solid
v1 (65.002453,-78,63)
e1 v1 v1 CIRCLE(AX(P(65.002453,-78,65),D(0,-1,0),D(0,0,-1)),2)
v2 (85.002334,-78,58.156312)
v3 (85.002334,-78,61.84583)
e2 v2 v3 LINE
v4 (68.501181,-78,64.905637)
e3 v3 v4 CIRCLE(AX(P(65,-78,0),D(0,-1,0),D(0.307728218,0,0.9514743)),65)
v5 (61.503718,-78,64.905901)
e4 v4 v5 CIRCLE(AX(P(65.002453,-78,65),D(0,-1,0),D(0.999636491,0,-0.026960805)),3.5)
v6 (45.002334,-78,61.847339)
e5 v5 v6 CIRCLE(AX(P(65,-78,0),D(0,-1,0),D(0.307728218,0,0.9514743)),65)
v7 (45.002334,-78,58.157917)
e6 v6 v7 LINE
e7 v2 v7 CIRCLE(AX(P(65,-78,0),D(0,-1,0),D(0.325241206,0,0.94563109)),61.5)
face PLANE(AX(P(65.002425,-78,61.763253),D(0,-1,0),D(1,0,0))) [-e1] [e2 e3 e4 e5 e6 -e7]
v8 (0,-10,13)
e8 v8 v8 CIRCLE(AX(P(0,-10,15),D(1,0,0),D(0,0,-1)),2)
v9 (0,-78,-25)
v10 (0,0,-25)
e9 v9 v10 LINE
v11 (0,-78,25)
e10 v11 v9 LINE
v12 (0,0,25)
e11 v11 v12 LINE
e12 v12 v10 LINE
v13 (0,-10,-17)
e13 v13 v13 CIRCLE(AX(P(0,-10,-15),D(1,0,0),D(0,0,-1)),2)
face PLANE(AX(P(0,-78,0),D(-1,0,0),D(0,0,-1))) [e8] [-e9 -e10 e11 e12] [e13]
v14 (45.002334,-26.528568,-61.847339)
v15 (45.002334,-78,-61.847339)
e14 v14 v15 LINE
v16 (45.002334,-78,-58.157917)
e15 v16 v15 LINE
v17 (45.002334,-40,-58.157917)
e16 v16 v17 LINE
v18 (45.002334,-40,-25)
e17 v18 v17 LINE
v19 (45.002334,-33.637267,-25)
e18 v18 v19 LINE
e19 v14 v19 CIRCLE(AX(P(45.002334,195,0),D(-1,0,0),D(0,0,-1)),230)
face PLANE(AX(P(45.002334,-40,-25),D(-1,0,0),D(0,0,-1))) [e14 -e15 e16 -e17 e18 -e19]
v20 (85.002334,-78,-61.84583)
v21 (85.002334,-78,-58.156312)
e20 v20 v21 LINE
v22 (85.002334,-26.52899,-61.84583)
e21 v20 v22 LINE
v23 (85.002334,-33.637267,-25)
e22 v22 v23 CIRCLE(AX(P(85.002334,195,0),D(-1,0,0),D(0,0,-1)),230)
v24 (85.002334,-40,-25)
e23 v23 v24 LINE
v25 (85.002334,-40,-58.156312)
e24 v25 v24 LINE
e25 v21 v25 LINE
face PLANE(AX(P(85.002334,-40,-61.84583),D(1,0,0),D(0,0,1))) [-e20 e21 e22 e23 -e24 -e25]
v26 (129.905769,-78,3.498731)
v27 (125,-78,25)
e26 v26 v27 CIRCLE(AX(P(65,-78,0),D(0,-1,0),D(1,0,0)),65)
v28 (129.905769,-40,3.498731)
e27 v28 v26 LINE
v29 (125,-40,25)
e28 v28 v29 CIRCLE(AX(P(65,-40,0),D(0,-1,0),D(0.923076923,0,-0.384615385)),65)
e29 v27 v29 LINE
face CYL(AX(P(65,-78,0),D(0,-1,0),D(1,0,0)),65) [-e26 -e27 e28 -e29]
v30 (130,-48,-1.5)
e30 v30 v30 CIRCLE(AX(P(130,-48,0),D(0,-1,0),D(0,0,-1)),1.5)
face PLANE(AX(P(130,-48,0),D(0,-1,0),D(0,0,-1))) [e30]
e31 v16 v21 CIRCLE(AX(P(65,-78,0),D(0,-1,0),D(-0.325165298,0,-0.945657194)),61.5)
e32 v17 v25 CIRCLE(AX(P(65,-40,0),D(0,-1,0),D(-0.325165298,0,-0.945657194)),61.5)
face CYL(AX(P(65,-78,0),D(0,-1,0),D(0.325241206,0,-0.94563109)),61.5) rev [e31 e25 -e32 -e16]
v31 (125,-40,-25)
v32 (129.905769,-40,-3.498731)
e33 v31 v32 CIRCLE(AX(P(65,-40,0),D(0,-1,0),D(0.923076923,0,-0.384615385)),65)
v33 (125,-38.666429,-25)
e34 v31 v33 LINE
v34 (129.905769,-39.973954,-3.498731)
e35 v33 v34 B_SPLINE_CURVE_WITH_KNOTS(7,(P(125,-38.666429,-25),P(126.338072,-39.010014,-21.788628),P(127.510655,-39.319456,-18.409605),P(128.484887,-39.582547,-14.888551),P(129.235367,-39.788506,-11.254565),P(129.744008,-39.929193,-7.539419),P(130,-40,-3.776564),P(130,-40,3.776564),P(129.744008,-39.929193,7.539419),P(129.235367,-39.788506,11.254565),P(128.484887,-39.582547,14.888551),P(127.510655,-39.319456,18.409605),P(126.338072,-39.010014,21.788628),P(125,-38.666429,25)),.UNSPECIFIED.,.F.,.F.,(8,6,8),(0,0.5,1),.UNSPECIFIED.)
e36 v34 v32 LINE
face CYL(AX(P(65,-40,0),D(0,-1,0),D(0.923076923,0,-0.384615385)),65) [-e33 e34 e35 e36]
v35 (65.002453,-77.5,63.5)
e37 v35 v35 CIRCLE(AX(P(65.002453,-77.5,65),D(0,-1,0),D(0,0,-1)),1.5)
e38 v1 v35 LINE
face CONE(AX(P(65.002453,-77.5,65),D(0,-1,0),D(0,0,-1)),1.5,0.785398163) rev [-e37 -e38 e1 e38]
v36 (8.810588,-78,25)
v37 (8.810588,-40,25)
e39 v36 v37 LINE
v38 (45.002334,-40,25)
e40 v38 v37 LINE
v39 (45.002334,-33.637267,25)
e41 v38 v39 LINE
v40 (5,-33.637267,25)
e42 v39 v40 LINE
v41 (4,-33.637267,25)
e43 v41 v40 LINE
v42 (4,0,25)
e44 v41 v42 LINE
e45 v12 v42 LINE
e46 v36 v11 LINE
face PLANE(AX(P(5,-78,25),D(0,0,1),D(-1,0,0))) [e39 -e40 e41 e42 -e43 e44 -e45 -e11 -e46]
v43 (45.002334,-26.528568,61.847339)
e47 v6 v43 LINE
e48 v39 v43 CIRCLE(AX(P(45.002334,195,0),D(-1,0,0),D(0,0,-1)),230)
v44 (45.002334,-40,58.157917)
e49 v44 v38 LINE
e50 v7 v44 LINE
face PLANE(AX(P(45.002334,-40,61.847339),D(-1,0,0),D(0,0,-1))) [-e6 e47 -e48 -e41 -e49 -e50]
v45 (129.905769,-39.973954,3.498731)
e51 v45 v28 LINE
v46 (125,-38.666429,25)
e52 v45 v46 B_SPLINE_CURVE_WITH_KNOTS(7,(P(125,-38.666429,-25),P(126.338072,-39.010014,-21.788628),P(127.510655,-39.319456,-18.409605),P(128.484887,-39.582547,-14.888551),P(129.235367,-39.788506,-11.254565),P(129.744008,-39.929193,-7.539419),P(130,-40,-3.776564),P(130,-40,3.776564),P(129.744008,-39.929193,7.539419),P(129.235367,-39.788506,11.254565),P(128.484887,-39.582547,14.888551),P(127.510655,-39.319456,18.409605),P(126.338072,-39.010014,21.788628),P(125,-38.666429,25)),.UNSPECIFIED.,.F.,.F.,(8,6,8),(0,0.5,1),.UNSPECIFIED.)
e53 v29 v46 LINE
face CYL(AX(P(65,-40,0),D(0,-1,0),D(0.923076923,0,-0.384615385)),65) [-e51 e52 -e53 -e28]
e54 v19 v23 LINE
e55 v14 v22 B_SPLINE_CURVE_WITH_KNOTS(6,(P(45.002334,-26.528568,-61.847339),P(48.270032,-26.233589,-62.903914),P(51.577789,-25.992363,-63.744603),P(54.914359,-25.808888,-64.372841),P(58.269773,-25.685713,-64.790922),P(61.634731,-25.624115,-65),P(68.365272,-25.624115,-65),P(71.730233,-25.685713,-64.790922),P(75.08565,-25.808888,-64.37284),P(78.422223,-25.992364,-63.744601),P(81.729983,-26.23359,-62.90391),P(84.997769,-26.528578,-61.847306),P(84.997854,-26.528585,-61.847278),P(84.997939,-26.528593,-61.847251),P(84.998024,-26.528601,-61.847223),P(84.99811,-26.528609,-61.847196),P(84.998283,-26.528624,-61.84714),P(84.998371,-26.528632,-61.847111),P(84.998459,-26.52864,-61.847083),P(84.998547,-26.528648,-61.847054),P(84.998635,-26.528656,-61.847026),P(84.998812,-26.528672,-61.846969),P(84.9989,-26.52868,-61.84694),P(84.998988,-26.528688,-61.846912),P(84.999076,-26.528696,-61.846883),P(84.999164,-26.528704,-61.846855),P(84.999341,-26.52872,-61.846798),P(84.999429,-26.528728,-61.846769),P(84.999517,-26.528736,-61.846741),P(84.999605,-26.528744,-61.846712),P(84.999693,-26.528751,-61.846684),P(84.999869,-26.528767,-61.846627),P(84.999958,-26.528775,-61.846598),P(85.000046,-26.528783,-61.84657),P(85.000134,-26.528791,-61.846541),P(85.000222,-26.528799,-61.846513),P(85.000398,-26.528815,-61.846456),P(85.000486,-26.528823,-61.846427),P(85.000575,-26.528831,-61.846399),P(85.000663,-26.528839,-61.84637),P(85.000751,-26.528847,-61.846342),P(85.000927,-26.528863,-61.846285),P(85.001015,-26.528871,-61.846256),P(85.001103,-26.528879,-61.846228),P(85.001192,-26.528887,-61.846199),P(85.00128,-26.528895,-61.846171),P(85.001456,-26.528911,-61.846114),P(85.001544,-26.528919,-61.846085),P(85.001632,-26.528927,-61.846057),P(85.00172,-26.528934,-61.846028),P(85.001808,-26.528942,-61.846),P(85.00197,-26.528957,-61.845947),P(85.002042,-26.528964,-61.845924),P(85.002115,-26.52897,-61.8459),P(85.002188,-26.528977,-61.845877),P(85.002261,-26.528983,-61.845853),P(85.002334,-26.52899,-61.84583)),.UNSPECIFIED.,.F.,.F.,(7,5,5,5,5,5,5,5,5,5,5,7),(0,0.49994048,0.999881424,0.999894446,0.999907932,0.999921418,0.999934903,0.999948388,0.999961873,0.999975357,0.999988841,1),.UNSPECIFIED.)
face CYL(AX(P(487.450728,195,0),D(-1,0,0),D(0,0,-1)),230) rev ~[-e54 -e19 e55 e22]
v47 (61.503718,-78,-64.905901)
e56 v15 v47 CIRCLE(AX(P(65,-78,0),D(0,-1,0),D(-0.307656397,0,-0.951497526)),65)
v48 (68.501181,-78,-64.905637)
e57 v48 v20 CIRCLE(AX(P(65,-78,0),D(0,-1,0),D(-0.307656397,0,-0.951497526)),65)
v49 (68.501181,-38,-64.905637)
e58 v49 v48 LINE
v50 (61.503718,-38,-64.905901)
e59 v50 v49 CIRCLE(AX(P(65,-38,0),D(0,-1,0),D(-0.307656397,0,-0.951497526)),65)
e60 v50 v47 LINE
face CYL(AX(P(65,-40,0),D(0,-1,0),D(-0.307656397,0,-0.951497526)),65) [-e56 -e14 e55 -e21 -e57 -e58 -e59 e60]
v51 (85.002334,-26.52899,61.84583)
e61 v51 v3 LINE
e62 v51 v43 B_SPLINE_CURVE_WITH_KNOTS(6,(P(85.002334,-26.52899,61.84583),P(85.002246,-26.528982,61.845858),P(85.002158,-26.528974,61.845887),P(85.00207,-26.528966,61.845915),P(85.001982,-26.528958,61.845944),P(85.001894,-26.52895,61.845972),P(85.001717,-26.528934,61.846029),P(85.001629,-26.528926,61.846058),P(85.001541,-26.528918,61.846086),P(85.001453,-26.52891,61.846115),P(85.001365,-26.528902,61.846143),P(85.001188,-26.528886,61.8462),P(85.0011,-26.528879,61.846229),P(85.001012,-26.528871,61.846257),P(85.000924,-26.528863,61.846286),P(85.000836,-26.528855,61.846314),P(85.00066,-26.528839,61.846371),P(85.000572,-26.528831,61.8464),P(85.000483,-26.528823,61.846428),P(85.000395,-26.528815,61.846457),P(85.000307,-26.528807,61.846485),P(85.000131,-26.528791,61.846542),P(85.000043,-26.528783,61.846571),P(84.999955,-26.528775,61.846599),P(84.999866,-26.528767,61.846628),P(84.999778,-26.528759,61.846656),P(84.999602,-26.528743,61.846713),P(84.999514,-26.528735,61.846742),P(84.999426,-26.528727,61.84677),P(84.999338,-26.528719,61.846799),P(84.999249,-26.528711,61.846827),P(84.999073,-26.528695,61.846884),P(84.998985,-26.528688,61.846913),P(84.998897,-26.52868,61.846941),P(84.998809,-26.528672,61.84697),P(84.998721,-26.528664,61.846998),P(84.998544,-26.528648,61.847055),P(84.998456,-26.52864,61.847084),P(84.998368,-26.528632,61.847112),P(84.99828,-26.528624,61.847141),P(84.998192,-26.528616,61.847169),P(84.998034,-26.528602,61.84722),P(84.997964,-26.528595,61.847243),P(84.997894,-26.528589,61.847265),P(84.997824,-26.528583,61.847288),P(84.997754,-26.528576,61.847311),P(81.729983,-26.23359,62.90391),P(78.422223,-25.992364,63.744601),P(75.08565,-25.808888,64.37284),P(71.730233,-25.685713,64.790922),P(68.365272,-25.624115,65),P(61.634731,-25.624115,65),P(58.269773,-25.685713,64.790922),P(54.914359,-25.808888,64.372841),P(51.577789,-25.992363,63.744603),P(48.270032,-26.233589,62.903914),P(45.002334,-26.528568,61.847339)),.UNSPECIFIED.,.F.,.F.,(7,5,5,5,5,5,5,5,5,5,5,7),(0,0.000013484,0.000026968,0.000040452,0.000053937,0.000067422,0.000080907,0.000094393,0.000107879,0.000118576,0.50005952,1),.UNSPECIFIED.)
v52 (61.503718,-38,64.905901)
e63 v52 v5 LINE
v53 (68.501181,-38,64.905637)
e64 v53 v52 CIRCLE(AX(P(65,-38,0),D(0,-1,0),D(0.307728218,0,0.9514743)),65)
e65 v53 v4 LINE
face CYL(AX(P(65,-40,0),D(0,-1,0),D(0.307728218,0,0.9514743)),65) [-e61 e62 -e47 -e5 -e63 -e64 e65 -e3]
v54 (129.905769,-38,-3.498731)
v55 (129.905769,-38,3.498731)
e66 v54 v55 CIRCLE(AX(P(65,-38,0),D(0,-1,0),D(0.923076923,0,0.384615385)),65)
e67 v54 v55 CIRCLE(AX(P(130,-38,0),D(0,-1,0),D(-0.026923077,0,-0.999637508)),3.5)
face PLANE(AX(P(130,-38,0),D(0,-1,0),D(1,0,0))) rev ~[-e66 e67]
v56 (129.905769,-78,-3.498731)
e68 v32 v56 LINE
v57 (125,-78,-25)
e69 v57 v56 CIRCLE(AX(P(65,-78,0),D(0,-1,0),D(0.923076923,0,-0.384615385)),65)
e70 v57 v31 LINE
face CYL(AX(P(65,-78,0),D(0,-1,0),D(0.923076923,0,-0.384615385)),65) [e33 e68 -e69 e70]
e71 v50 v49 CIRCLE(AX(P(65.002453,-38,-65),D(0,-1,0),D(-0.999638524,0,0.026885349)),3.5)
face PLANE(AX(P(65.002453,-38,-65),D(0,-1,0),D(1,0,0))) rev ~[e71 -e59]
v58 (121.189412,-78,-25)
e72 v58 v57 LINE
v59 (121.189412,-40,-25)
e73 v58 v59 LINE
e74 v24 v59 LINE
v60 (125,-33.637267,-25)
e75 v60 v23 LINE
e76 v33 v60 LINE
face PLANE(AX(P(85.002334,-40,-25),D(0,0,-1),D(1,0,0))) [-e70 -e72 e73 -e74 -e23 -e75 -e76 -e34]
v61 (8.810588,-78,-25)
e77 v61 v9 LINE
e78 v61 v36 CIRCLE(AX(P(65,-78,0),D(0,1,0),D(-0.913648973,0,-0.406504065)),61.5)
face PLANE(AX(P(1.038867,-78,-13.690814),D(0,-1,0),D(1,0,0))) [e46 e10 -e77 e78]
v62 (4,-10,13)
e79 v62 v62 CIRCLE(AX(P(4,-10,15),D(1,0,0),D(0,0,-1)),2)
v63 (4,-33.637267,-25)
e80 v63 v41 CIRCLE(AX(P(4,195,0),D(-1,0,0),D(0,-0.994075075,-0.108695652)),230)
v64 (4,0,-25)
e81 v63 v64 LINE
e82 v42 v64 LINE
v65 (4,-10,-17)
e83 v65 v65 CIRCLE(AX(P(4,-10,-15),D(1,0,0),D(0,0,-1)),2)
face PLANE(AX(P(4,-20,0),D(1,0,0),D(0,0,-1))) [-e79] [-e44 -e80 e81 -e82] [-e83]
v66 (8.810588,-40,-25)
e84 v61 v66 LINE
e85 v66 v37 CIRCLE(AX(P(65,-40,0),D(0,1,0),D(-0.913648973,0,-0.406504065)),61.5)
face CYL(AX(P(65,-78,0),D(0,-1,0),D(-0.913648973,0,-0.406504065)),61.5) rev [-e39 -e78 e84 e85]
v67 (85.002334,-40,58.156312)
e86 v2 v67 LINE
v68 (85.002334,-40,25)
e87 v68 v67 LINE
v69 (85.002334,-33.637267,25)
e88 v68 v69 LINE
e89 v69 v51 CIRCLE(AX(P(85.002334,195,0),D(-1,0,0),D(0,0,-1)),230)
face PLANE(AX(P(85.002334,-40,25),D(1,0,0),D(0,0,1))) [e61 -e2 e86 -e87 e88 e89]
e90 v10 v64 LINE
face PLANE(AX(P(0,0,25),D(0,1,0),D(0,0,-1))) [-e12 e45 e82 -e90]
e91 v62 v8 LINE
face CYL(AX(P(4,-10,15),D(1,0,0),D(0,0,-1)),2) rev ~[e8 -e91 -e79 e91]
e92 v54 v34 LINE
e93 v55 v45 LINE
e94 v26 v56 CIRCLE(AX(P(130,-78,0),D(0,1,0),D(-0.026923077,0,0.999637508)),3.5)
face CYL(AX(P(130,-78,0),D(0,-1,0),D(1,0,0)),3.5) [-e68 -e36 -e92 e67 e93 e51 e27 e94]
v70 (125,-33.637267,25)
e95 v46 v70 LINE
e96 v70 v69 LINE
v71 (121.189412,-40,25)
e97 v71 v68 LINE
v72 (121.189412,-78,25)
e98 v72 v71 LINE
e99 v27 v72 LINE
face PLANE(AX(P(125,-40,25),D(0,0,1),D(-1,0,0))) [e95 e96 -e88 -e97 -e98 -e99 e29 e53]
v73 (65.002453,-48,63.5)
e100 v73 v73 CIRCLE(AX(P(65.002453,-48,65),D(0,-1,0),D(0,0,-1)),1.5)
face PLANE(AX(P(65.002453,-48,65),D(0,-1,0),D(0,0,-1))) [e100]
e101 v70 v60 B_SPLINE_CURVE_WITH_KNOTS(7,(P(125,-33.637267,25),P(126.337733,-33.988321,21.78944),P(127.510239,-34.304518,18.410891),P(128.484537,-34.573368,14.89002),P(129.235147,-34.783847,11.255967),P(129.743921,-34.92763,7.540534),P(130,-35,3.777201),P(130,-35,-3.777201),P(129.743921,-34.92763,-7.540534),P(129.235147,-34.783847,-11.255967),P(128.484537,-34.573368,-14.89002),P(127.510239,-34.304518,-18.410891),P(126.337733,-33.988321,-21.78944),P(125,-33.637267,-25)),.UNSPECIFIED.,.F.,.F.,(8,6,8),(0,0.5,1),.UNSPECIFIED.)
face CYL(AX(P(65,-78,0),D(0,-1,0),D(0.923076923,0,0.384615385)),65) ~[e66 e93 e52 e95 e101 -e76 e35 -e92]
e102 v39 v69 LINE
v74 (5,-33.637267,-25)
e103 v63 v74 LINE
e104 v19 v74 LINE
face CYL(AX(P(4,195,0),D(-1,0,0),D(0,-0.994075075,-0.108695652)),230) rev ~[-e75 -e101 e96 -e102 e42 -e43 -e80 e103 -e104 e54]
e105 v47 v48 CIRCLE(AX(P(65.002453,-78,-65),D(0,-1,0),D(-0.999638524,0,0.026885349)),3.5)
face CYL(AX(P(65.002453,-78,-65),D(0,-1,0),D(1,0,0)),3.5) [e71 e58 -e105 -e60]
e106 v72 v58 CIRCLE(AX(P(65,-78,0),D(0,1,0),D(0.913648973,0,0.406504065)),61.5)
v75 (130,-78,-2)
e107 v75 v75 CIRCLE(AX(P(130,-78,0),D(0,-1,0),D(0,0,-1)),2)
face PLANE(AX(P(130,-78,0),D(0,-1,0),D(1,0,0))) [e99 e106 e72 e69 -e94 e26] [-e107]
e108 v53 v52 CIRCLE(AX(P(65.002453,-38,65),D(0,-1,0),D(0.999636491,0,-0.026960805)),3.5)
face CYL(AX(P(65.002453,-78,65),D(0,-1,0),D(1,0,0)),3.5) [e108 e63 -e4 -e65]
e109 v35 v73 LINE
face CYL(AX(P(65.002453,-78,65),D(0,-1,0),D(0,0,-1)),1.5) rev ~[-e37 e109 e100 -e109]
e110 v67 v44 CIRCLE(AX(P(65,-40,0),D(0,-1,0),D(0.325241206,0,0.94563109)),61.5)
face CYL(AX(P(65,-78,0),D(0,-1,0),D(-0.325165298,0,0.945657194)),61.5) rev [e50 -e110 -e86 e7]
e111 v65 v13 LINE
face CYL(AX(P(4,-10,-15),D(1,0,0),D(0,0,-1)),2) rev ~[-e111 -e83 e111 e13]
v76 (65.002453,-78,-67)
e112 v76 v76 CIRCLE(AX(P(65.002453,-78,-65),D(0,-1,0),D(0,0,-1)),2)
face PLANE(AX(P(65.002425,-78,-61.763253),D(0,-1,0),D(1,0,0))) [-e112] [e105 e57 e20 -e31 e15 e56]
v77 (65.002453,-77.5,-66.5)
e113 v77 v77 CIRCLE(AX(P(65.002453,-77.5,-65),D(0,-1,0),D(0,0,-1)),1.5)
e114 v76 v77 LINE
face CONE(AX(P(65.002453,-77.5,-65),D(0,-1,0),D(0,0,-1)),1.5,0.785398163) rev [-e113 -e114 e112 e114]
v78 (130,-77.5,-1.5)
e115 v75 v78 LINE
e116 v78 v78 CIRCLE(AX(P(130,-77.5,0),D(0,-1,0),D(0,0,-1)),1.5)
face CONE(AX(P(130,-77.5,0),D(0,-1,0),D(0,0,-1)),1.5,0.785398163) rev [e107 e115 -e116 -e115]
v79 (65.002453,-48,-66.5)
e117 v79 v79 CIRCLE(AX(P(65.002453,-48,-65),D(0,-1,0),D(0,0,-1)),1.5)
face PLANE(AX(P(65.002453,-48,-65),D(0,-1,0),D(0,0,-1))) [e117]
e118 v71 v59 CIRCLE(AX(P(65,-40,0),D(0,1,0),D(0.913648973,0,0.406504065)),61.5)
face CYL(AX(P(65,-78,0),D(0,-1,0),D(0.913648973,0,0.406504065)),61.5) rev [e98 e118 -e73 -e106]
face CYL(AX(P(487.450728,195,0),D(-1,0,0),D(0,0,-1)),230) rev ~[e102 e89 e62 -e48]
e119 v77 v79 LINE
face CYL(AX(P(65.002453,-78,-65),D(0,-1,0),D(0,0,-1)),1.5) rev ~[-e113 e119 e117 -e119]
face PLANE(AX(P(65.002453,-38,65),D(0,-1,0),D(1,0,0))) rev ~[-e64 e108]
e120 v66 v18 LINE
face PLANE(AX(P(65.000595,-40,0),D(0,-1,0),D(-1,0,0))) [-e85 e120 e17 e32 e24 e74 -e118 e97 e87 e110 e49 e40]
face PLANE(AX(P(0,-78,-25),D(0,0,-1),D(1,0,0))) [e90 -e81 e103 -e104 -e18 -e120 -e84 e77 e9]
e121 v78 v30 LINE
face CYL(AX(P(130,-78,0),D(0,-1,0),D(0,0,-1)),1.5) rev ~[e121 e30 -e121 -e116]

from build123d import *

# Parameters (mm, degrees)
SKETCH_1_W           = 50
SKETCH_1_H           = 40
EXTRUDE_1_DEPTH      = 4
SKETCH_2_R           = 2
CUT_EXTRUDE_1_DEPTH  = 4
EXTRUDE_2_DEPTH      = 180
CUT_EXTRUDE_START    = -60
CUT_EXTRUDE_2_DEPTH  = 60
CUT_EXTRUDE_3_DEPTH  = 60
EXTRUDE_3_REACH      = 191.95
EXTRUDE_3_END_RADIUS = 230
EXTRUDE_START        = 38
EXTRUDE_4_DEPTH      = 38
CUT_EXTRUDE_4_DEPTH  = 211.154705038
SKETCH_9_R           = 3.5
EXTRUDE_5_DEPTH      = 40
SKETCH_10_R          = 1.5
CUT_EXTRUDE_5_DEPTH  = 30
CHAMFER_1_SIZE       = 0.5
EXTRUDE_6_REACH      = 171.111
EXTRUDE_6_END_RADIUS = 235
EXTRUDE_7_REACH      = 171.111


with BuildPart() as part:
    # 草图1 → 凸台-拉伸1 (new body)
    with BuildSketch(Plane(origin=(0, 0, 0), x_dir=(0, 0, -1), z_dir=(1, 0, 0))):
        with Locations((0, -20)):
            Rectangle(SKETCH_1_W, SKETCH_1_H)
    extrude(amount=EXTRUDE_1_DEPTH)

    # 草图2 → 切除-拉伸1 (cut)
    with BuildSketch(Plane(origin=(4, 0, 0), x_dir=(0, 0, -1), z_dir=(1, 0, 0))):
        with Locations((-15, -10)):
            Circle(SKETCH_2_R)
        with Locations((15, -10)):
            Circle(SKETCH_2_R)
    extrude(amount=-CUT_EXTRUDE_1_DEPTH, mode=Mode.SUBTRACT)

    # 草图3 → 凸台-拉伸2 (add)
    with BuildSketch(Plane(origin=(4, 0, 0), x_dir=(0, 0, -1), z_dir=(1, 0, 0))):
        with BuildLine():
            Line((-25, -33.637267303), (-25, -38.666428911))
            ThreePointArc((-25, -38.666428911), (0, -40), (25, -38.666428911))
            Line((25, -38.666428911), (25, -33.637267303))
            ThreePointArc((25, -33.637267303), (0, -35), (-25, -33.637267303))
        make_face()
    extrude(amount=EXTRUDE_2_DEPTH)

    # 草图4 → 切除-拉伸2 (cut)
    with BuildSketch(Plane(origin=(4, 0, 0), x_dir=(0, 0, -1), z_dir=(1, 0, 0)).offset(CUT_EXTRUDE_START)):
        with BuildLine():
            Line((25, -40), (25, -38.666428911))
            ThreePointArc((25, -38.666428911), (12.517771485, -39.666370401), (0, -40))
            Line((0, -40), (25, -40))
        make_face()
    extrude(amount=CUT_EXTRUDE_2_DEPTH, mode=Mode.SUBTRACT)

    # 草图5 → 切除-拉伸3 (cut)
    with BuildSketch(Plane(origin=(4, 0, 0), x_dir=(0, 0, -1), z_dir=(1, 0, 0)).offset(CUT_EXTRUDE_START)):
        with BuildLine():
            Line((-25, -38.666428911), (-25, -40))
            Line((-25, -40), (0, -40))
            ThreePointArc((0, -40), (-12.517771485, -39.666370401), (-25, -38.666428911))
        make_face()
    extrude(amount=CUT_EXTRUDE_3_DEPTH, mode=Mode.SUBTRACT)

    # 凸台-拉伸3: up to this cylinder (the profile starts outside it)
    extrude_3_end = Plane(origin=(65.000728, 195, 0), z_dir=(-1, 0, 0)) * Cylinder(EXTRUDE_3_END_RADIUS, 844.9, mode=Mode.PRIVATE)
    # 草图6 → 凸台-拉伸3 (add, up to the surface)
    with BuildSketch(Plane(origin=(0, -40, 0), x_dir=(-1, 0, 0), z_dir=(0, -1, 0)), mode=Mode.PRIVATE) as extrude_3_sk1:
        with BuildLine():
            Line((-85.002334196, 61.845829501), (-85.002334196, 25))
            Line((-85.002334196, 25), (-125, 25))
            ThreePointArc((-125, 25), (-130, 0), (-125, -25))
            Line((-125, -25), (-85.002334196, -25))
            Line((-85.002334196, -25), (-85.002334196, -61.845829501))
            ThreePointArc((-85.002334196, -61.845829501), (-65.002453212, -64.999999954), (-45.002334196, -61.84733917))
            Line((-45.002334196, -61.84733917), (-45.002334196, -25))
            Line((-45.002334196, -25), (-5, -25))
            ThreePointArc((-5, -25), (0, 0), (-5, 25))
            Line((-5, 25), (-45.002334196, 25))
            Line((-45.002334196, 25), (-45.002334196, 61.84733917))
            ThreePointArc((-45.002334196, 61.84733917), (-65.002453212, 64.999999954), (-85.002334196, 61.845829501))
        make_face()
    extrude_3_tool1 = extrude(extrude_3_sk1.sketch, amount=-EXTRUDE_3_REACH, mode=Mode.PRIVATE) - extrude_3_end
    extrude_3 = extrude_3_tool1.solids().sort_by_distance((65.000728, -40, 0))[0]
    add(extrude_3)

    # 镜向1: 凸台-拉伸3 across plane
    add(extrude_3.mirror(Plane.XY))

    # 草图7 → 凸台-拉伸4 (add)
    with BuildSketch(Plane.XZ.offset(40).offset(EXTRUDE_START)):
        with BuildLine():
            Line((5, -25), (8.810588186, -25))
            ThreePointArc((8.810588186, -25), (3.5, 0), (8.810588186, 25))
            Line((8.810588186, 25), (5, 25))
            ThreePointArc((5, 25), (1.26225608, 12.747548784), (0, 0))
            ThreePointArc((0, 0), (1.26225608, -12.747548784), (5, -25))
        make_face()
        with BuildLine():
            Line((45.002334196, -58.157917452), (45.002334196, -61.84733917))
            ThreePointArc((45.002334196, -61.84733917), (65.002453212, -64.999999954), (85.002334196, -61.845829501))
            Line((85.002334196, -61.845829501), (85.002334196, -58.156312011))
            ThreePointArc((85.002334196, -58.156312011), (65.002468367, -61.49999995), (45.002334196, -58.157917452))
        make_face()
        with BuildLine():
            Line((121.189411814, -25), (125, -25))
            ThreePointArc((125, -25), (128.73774392, -12.747548784), (130, 0))
            ThreePointArc((130, 0), (128.73774392, 12.747548784), (125, 25))
            Line((125, 25), (121.189411814, 25))
            ThreePointArc((121.189411814, 25), (126.5, 0), (121.189411814, -25))
        make_face()
        with BuildLine():
            Line((85.002334196, 58.156312011), (85.002334196, 61.845829501))
            ThreePointArc((85.002334196, 61.845829501), (65.002453212, 64.999999954), (45.002334196, 61.84733917))
            Line((45.002334196, 61.84733917), (45.002334196, 58.157917452))
            ThreePointArc((45.002334196, 58.157917452), (65.002468367, 61.49999995), (85.002334196, 58.156312011))
        make_face()
    extrude(amount=-EXTRUDE_4_DEPTH)

    # 草图8 → 切除-拉伸4 (cut, through all)
    with BuildSketch(Plane.XZ.offset(78)):
        with BuildLine():
            Line((184, 25), (125, 25))
            ThreePointArc((125, 25), (130, 0), (125, -25))
            Line((125, -25), (184, -25))
            Line((184, -25), (184, 25))
        make_face()
    extrude(amount=-CUT_EXTRUDE_4_DEPTH, mode=Mode.SUBTRACT)

    # 草图9 → 凸台-拉伸5 (add)
    with BuildSketch(Plane.XZ.offset(78)):
        with Locations((130, 0)):
            Circle(SKETCH_9_R)
        with Locations((65.002453212, -64.999999954)):
            Circle(SKETCH_9_R)
        with Locations((65.002453212, 64.999999954)):
            Circle(SKETCH_9_R)
    extrude(amount=-EXTRUDE_5_DEPTH)

    # 草图10 → 切除-拉伸5 (cut)
    with BuildSketch(Plane.XZ.offset(78)):
        with Locations(Location((65.002453212, 64.999999954, 0), (0, 0, 270))):
            Circle(SKETCH_10_R)
        with Locations(Location((130, 0, 0), (0, 0, 270))):
            Circle(SKETCH_10_R)
        with Locations(Location((65.002453212, -64.999999954, 0), (0, 0, 270))):
            Circle(SKETCH_10_R)
    extrude(amount=-CUT_EXTRUDE_5_DEPTH, mode=Mode.SUBTRACT)

    # 倒角1
    chamfer_1_edges = [part.edges().sort_by_distance(p)[0] for p in [
        (65.002453212, -78, 66.499999954),
        (130, -78, 1.5),
        (65.002453212, -78, -63.499999954),
    ]]
    chamfer(chamfer_1_edges, length=CHAMFER_1_SIZE)

    # 凸台-拉伸6: up to this cylinder (the profile starts outside it)
    extrude_6_end = Plane(origin=(1.489564, 195, 0), z_dir=(-1, 0, 0)) * Cylinder(EXTRUDE_6_END_RADIUS, 813.222, mode=Mode.PRIVATE)
    # 草图11 → 凸台-拉伸6 (add, up to the surface)
    with BuildSketch(Plane.XZ.offset(78), mode=Mode.PRIVATE) as extrude_6_sk1:
        with BuildLine():
            Line((0, 25), (0, 0))
            ThreePointArc((0, 0), (1.26225608, 12.747548784), (5, 25))
            Line((5, 25), (0, 25))
        make_face()
    extrude_6_tool1 = extrude(extrude_6_sk1.sketch, amount=-EXTRUDE_6_REACH, mode=Mode.PRIVATE) - extrude_6_end
    add(extrude_6_tool1.solids().sort_by_distance((1.489564, -78, 18.799089))[0])

    # 草图12 → 凸台-拉伸7 (add, up to next)
    with BuildSketch(Plane.XZ.offset(78), mode=Mode.PRIVATE) as extrude_7_sk1:
        with BuildLine():
            Line((0, -25), (5, -25))
            ThreePointArc((5, -25), (1.26225608, -12.747548784), (0, 0))
            Line((0, 0), (0, -25))
        make_face()
    extrude_7_tool1 = extrude(extrude_7_sk1.sketch, amount=-EXTRUDE_7_REACH, mode=Mode.PRIVATE) - part.part
    add(extrude_7_tool1.solids().sort_by_distance((1.489564, -78, -18.799089))[0])


solid = part.part
